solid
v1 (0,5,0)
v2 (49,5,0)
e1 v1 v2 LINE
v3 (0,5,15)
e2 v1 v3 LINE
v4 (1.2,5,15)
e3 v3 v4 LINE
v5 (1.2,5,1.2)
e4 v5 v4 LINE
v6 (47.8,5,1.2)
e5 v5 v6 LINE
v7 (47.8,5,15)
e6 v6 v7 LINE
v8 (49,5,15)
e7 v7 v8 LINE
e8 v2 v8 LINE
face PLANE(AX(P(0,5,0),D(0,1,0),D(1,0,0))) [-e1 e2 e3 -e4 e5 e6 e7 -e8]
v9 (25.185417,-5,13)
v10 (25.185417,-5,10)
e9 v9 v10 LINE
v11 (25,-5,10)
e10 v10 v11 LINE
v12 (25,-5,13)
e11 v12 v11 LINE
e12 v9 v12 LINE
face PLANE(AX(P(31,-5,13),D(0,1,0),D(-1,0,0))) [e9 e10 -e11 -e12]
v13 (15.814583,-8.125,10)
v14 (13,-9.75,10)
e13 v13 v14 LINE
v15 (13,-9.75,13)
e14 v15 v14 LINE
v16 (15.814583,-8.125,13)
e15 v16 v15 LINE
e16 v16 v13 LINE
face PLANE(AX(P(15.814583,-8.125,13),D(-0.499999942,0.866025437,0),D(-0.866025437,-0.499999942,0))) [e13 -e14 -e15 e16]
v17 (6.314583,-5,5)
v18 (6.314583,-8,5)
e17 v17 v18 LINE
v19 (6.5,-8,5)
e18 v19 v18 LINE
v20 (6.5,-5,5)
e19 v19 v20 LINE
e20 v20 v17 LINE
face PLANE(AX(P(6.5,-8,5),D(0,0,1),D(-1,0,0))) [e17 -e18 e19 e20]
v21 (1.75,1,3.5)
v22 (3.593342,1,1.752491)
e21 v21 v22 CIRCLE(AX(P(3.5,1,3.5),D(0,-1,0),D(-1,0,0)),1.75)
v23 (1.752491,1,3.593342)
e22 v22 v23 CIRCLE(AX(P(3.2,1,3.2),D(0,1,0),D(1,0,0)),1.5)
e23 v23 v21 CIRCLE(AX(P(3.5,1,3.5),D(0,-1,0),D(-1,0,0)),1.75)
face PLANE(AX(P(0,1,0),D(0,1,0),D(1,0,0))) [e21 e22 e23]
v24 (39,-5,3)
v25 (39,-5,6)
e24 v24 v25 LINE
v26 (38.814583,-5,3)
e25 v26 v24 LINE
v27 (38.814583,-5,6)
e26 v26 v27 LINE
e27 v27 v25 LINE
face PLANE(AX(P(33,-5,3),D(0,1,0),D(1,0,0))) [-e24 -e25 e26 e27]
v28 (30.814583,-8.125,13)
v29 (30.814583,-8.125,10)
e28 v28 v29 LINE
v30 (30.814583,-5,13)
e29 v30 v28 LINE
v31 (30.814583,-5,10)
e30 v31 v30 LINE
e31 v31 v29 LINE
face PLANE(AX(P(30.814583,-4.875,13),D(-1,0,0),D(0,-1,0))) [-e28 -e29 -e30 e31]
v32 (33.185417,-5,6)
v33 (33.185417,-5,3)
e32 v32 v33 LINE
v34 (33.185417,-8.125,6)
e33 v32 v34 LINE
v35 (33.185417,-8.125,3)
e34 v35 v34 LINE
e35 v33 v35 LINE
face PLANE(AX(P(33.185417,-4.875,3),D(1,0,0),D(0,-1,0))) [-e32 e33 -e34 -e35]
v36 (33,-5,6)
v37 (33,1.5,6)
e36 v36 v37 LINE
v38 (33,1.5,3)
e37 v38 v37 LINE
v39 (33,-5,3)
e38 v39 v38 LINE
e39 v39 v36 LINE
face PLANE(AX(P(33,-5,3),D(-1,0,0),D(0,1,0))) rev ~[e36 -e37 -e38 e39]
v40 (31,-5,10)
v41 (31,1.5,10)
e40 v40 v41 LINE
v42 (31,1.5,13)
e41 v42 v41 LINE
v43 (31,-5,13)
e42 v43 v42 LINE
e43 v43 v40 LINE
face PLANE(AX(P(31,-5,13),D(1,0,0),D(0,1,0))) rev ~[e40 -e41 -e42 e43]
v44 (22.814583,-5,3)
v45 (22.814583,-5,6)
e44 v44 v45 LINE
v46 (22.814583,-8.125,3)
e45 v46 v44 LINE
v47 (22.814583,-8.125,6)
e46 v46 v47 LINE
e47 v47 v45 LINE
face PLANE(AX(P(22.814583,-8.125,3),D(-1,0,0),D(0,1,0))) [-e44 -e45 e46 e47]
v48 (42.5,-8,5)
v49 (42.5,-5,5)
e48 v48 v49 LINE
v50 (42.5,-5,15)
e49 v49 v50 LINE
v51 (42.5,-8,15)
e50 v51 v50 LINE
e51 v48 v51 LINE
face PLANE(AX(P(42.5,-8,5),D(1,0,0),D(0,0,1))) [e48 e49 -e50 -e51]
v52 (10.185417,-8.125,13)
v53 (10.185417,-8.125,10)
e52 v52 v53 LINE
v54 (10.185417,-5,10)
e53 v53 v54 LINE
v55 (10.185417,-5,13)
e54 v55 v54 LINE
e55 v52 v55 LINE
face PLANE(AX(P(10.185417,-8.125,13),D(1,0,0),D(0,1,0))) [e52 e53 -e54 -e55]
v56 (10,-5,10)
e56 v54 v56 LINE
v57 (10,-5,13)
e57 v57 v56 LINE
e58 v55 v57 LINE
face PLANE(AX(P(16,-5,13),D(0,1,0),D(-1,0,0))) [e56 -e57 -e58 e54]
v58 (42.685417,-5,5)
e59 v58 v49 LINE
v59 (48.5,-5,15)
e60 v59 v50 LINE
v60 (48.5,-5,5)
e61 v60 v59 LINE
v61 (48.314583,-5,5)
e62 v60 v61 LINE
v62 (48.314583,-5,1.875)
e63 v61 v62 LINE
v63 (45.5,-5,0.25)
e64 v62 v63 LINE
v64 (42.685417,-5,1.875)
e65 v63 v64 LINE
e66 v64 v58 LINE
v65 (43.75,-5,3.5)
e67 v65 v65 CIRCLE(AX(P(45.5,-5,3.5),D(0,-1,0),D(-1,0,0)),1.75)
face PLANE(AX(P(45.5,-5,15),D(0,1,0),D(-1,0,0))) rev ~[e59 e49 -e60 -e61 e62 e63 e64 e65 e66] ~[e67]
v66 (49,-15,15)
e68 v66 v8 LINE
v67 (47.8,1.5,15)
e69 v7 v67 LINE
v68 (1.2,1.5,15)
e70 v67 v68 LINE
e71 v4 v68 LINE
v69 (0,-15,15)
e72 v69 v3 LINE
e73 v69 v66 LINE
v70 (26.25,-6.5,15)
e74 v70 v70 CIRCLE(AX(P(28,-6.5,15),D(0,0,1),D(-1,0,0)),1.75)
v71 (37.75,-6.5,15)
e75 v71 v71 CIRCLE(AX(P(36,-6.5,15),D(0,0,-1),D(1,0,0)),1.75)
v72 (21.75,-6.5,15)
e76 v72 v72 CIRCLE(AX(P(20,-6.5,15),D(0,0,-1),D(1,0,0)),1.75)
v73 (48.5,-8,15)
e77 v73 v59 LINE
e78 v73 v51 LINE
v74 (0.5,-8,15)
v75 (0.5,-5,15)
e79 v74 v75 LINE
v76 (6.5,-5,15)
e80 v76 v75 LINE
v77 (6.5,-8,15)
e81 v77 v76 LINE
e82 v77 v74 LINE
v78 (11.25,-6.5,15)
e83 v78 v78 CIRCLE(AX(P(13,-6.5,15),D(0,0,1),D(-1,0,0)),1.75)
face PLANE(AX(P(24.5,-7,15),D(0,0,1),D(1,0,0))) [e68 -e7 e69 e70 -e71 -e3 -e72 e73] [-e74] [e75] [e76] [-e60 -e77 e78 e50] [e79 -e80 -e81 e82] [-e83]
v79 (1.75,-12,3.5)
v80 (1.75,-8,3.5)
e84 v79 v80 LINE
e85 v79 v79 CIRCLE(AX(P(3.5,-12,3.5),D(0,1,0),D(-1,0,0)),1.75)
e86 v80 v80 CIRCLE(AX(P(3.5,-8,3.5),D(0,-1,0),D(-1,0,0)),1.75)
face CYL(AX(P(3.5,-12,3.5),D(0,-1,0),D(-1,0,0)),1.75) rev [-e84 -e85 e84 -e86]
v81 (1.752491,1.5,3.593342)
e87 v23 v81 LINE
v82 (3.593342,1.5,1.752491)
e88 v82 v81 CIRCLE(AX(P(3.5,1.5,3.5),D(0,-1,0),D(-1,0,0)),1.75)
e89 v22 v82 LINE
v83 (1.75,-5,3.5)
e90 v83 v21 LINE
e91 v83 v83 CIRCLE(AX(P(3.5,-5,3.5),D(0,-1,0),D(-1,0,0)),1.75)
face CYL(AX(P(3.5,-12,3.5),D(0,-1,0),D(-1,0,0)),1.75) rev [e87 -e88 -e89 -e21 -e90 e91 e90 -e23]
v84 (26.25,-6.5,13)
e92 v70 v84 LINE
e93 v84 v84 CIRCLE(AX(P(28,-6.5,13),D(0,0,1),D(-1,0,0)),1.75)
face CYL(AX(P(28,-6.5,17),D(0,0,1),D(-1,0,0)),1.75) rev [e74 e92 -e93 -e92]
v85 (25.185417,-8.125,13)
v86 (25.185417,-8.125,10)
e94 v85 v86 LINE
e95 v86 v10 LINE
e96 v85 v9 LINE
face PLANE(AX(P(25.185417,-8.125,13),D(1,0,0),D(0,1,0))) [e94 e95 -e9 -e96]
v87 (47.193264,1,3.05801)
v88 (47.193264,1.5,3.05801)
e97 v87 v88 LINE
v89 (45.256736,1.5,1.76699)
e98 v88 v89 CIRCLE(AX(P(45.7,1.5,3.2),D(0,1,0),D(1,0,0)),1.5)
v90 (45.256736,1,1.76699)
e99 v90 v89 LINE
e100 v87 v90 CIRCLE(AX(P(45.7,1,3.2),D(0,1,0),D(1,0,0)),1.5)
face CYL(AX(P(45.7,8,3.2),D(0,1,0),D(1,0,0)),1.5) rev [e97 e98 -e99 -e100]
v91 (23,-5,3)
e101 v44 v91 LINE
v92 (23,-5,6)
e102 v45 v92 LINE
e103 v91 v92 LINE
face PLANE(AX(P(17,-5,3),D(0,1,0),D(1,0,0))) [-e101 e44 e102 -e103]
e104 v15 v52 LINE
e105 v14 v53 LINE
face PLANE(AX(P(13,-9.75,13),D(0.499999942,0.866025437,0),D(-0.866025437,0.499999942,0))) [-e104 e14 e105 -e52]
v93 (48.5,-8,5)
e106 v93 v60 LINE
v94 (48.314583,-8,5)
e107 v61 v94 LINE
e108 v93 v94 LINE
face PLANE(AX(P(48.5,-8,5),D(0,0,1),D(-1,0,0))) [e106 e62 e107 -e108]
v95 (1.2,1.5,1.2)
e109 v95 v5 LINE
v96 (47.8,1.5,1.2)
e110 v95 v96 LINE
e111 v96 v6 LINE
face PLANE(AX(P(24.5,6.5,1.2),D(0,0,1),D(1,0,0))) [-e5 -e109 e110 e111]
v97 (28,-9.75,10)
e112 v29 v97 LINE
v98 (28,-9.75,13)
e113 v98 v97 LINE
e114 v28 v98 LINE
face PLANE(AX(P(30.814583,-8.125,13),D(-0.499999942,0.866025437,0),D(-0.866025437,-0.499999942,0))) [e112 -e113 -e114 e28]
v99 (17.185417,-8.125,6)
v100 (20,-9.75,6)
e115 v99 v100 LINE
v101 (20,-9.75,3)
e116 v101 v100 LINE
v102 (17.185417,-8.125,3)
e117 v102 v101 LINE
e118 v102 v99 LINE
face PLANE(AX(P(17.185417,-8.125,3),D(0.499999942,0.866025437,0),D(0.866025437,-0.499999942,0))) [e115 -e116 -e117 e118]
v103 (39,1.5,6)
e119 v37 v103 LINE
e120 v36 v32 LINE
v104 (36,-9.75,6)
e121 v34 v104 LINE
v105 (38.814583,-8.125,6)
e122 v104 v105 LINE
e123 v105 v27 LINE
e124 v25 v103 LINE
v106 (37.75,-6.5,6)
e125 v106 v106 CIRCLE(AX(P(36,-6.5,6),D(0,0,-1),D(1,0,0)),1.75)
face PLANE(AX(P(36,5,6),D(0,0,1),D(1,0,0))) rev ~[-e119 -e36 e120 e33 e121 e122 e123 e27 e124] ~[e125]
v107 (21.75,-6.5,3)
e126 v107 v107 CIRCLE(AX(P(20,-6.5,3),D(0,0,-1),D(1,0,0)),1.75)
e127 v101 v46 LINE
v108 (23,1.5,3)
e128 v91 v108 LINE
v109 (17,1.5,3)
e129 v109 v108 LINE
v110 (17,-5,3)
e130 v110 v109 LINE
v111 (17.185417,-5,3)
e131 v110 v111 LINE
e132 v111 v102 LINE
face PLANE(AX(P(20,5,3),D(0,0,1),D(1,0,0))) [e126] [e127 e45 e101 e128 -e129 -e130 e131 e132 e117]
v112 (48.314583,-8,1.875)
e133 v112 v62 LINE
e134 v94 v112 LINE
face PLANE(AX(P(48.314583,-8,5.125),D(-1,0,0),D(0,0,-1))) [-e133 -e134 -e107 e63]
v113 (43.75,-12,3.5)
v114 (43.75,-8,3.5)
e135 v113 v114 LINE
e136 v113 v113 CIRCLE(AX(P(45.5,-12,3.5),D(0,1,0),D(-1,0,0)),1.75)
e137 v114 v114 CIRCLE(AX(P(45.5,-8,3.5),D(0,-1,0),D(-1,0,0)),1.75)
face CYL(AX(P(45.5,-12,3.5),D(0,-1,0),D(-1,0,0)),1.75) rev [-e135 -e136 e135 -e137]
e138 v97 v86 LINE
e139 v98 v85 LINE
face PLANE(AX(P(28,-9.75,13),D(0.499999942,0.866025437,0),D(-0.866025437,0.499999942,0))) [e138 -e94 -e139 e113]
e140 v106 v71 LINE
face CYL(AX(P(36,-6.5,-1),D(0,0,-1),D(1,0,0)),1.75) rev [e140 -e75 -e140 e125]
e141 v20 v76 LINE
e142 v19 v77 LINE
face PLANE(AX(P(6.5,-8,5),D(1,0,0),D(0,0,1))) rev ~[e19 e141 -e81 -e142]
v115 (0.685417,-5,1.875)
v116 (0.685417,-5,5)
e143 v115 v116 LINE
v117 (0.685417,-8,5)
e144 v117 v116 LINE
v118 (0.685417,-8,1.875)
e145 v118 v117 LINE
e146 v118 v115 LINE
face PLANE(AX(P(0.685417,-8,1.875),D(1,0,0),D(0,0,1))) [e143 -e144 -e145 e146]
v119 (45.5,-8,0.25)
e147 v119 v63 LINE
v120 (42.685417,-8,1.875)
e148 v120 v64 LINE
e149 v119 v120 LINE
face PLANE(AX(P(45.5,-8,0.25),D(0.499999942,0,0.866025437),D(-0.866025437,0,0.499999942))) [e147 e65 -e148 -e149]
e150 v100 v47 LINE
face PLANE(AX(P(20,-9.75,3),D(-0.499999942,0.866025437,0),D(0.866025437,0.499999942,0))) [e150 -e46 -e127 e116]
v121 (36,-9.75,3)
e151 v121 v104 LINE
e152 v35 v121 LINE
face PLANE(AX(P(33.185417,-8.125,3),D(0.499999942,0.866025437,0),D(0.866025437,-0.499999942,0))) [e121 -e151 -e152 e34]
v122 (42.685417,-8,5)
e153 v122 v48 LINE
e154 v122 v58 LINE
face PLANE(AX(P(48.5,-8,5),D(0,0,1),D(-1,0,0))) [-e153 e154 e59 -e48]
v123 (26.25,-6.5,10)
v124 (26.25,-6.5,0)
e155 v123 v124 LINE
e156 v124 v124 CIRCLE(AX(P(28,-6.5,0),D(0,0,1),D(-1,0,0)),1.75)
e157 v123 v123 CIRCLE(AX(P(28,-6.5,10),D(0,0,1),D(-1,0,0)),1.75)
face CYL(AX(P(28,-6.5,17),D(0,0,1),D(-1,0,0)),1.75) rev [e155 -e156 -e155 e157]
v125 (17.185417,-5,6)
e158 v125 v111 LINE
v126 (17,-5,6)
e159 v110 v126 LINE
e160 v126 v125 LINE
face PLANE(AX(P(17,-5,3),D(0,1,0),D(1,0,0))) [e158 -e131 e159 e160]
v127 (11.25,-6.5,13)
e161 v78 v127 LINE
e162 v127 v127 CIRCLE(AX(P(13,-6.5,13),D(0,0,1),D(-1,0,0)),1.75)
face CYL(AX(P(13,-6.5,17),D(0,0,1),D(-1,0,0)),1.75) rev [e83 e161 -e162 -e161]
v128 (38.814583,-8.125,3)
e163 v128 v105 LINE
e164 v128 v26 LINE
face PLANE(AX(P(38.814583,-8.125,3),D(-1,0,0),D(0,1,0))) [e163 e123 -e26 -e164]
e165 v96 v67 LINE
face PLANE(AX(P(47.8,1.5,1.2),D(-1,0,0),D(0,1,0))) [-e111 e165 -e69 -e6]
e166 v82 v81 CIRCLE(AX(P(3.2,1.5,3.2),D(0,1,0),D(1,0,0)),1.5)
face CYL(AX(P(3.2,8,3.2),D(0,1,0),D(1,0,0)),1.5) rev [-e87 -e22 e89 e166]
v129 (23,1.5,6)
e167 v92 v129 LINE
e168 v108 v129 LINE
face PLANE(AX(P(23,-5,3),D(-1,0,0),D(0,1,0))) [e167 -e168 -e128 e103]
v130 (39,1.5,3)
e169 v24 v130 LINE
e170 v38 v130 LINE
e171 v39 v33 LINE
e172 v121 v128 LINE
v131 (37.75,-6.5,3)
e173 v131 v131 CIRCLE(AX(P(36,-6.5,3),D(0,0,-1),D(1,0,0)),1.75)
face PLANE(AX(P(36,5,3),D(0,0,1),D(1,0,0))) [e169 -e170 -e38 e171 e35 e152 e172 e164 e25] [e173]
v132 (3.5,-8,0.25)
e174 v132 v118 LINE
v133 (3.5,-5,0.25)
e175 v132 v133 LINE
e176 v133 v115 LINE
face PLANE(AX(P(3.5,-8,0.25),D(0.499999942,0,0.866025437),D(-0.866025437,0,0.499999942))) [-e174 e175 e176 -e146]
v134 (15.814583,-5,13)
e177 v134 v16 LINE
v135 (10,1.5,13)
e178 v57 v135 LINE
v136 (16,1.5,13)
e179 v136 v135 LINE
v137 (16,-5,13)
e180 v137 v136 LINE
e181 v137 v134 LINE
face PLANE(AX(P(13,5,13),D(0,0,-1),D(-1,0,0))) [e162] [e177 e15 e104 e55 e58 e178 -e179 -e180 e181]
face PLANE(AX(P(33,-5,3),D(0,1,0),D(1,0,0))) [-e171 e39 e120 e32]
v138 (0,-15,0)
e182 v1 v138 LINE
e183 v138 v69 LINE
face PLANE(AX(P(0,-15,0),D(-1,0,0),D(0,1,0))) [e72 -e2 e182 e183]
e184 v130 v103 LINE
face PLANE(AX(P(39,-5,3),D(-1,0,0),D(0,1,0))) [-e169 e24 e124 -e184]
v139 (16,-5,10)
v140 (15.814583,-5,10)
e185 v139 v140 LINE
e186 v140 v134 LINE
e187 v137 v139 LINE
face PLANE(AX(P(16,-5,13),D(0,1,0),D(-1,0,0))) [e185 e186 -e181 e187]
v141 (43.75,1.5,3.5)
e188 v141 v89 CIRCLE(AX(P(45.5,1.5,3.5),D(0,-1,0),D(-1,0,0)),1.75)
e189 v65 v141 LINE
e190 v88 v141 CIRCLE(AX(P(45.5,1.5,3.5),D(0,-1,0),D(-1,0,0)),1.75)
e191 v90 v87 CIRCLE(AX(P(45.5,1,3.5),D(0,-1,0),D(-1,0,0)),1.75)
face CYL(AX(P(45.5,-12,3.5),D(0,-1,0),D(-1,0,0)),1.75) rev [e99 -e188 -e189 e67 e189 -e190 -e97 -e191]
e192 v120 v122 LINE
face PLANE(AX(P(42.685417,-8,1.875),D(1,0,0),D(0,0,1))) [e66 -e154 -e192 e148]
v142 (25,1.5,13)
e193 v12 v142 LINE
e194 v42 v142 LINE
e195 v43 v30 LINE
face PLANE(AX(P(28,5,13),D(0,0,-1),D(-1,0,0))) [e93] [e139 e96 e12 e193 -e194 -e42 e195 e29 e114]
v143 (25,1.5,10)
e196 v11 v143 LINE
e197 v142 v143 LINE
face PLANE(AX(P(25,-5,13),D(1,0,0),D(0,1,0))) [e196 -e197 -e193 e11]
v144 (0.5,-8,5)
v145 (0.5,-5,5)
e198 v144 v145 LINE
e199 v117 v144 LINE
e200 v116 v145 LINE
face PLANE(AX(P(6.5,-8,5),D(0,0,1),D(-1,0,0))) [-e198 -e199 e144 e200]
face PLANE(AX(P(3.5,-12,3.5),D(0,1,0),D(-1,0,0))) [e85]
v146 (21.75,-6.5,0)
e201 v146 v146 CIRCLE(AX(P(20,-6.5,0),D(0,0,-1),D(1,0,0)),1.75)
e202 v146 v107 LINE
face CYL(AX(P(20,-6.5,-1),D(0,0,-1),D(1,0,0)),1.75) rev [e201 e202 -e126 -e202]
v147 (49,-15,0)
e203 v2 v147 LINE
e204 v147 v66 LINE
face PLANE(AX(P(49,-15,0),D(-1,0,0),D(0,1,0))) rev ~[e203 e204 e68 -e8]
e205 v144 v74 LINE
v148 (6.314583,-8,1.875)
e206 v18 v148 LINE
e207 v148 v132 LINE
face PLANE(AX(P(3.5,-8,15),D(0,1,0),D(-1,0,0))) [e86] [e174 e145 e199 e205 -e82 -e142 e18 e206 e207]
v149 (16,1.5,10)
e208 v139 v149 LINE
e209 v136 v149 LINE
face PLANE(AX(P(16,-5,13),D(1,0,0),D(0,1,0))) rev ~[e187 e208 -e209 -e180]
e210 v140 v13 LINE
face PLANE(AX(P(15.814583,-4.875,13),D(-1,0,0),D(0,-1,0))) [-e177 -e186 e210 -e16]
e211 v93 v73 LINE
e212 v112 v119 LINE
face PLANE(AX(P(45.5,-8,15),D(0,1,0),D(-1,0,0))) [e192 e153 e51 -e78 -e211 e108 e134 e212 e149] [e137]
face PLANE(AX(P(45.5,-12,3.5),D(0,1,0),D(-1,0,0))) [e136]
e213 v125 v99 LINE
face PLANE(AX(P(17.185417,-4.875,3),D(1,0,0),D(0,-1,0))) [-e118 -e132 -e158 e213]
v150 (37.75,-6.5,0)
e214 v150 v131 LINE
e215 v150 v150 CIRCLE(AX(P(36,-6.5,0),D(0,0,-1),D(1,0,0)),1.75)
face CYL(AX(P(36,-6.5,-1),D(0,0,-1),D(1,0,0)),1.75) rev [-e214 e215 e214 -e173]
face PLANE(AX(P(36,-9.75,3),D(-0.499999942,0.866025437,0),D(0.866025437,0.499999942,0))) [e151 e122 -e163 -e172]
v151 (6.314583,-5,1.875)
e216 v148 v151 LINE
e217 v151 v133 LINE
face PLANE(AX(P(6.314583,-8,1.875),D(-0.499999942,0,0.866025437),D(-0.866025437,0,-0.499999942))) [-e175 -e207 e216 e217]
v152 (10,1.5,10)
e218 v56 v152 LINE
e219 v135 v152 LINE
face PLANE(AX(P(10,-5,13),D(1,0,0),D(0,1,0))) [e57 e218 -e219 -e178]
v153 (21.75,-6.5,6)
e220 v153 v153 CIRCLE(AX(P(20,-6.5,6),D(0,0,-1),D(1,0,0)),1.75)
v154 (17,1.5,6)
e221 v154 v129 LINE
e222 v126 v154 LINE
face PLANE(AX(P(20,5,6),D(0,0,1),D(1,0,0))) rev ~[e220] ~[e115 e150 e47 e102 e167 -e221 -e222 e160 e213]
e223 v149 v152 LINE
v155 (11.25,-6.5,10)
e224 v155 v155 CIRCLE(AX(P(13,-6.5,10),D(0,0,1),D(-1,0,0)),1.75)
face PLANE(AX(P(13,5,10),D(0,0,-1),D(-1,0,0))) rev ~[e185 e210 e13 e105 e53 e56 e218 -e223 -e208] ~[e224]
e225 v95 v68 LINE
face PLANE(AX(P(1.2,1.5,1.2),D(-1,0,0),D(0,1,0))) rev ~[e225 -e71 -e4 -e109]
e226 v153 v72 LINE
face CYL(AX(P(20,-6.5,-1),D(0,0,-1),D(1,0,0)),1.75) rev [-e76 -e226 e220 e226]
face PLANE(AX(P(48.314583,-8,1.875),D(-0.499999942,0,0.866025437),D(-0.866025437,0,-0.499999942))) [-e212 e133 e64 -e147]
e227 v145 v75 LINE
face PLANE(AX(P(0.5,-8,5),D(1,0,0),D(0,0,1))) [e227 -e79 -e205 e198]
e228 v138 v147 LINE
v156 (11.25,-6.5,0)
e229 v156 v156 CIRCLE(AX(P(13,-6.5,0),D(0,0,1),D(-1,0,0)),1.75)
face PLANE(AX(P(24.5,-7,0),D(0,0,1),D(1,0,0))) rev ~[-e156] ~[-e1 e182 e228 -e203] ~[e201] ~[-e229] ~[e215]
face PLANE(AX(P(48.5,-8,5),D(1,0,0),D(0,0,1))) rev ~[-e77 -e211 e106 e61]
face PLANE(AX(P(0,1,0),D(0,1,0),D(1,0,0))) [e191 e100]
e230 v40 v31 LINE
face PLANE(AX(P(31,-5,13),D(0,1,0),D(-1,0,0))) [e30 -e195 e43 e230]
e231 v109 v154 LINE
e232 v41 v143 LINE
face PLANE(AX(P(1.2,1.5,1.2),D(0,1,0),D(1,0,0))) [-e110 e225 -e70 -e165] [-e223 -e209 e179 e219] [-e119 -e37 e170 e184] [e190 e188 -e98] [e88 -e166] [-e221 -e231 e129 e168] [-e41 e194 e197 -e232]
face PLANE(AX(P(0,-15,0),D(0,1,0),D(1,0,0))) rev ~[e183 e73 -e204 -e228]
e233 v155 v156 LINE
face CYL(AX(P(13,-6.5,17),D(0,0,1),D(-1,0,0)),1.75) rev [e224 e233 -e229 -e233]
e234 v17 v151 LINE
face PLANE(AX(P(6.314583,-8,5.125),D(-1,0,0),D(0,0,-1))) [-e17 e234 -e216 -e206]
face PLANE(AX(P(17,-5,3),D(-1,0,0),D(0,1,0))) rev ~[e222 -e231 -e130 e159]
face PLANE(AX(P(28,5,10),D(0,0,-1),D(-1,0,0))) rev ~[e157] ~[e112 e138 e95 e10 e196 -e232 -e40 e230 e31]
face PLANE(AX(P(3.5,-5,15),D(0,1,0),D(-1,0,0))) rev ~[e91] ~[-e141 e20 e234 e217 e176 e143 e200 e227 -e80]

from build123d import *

# Parameters (mm, degrees)
PRISM004_DEPTH            = 3
CYLINDER006_R             = 1.75
CYLINDER006_DEPTH         = 20
BOX006_W                  = 6
BOX006_H                  = 20
BOX006_DEPTH              = 3
FUSION004_PLACEMENT_ANGLE = 180
PRISM005_DEPTH            = 3
CYLINDER007_R             = 1.75
CYLINDER007_DEPTH         = 20
BOX007_W                  = 6
BOX007_H                  = 20
BOX007_DEPTH              = 3
FUSION005_PLACEMENT_ANGLE = 180
PRISM002_DEPTH            = 3
CYLINDER004_R             = 1.75
CYLINDER004_DEPTH         = 20
BOX003_W                  = 6
BOX003_H                  = 20
BOX003_DEPTH              = 3
FUSION001_PLACEMENT_ANGLE = 180
PRISM003_DEPTH            = 3
CYLINDER005_R             = 1.75
CYLINDER005_DEPTH         = 20
BOX005_W                  = 6
BOX005_H                  = 20
BOX005_DEPTH              = 3
FUSION002_PLACEMENT_ANGLE = 180
FUSION007_PLACEMENT_ANGLE = 180
PRISM006_DEPTH            = 3
CYLINDER008_R             = 1.75
CYLINDER008_DEPTH         = 20
BOX008_W                  = 6
BOX008_H                  = 20
BOX008_DEPTH              = 3
FUSION008_ROLL_ANGLE      = 90
FUSION008_PLACEMENT_ANGLE = 180
PRISM007_DEPTH            = 3
CYLINDER009_R             = 1.75
CYLINDER009_DEPTH         = 20
BOX009_W                  = 6
BOX009_H                  = 20
BOX009_DEPTH              = 3
FUSION009_ROLL_ANGLE      = 90
FUSION009_PLACEMENT_ANGLE = 180
CYLINDER001_R             = 1.5
CYLINDER001_DEPTH         = 10
CYLINDER_R                = 1.5
CYLINDER_DEPTH            = 10
BOX001_W                  = 46.6
BOX001_H                  = 10
BOX001_DEPTH              = 21
BOX_W                     = 49
BOX_H                     = 5
BOX_DEPTH                 = 15
BOX004_W                  = 49
BOX004_H                  = 16
BOX004_DEPTH              = 15


with BuildPart() as prisma004:
    # Prism004 → Prism004 (new body)
    with BuildSketch(Plane(origin=(34, 7.5, 3), x_dir=(0, 1, 0), z_dir=(0, 0, 1))):
        Polygon((3.25, 0), (1.625, 2.814583), (-1.625, 2.814583), (-3.25, 0), (-1.625, -2.814583), (1.625, -2.814583), align=None)
    extrude(amount=PRISM004_DEPTH)


with BuildPart() as cilindro006:
    # Cylinder006 → Cylinder006 (new body)
    with BuildSketch(Plane(origin=(34, 7.5, -1), x_dir=(1, 0, 0), z_dir=(0, 0, 1))):
        Circle(CYLINDER006_R)
    extrude(amount=CYLINDER006_DEPTH)


with BuildPart() as fusion004:
    # Box006 → Box006 (new body)
    with BuildSketch(Plane(origin=(31, 9, 3), x_dir=(1, 0, 0), z_dir=(0, 0, 1))):
        with Locations((3, 10)):
            Rectangle(BOX006_W, BOX006_H)
    extrude(amount=BOX006_DEPTH)

    # Fusion004: union Prisma004, Cilindro006
    add(prisma004.part)
    add(cilindro006.part)


with BuildPart() as fusion004_1:
    # Fusion004 placement: moved
    add(fusion004.part.moved(Location((-14, -3, 16))).rotate(Axis((-14, -3, 16), (1, 0, 0)), FUSION004_PLACEMENT_ANGLE))


with BuildPart() as prisma005:
    # Prism005 → Prism005 (new body)
    with BuildSketch(Plane(origin=(34, 7.5, 3), x_dir=(0, 1, 0), z_dir=(0, 0, 1))):
        Polygon((3.25, 0), (1.625, 2.814583), (-1.625, 2.814583), (-3.25, 0), (-1.625, -2.814583), (1.625, -2.814583), align=None)
    extrude(amount=PRISM005_DEPTH)


with BuildPart() as cilindro007:
    # Cylinder007 → Cylinder007 (new body)
    with BuildSketch(Plane(origin=(34, 7.5, -1), x_dir=(1, 0, 0), z_dir=(0, 0, 1))):
        Circle(CYLINDER007_R)
    extrude(amount=CYLINDER007_DEPTH)


with BuildPart() as fusion006:
    # Box007 → Box007 (new body)
    with BuildSketch(Plane(origin=(31, 9, 3), x_dir=(1, 0, 0), z_dir=(0, 0, 1))):
        with Locations((3, 10)):
            Rectangle(BOX007_W, BOX007_H)
    extrude(amount=BOX007_DEPTH)

    # Fusion005: union Prisma005, Cilindro007
    add(prisma005.part)
    add(cilindro007.part)


with BuildPart() as fusion006_1:
    # Fusion005 placement: moved
    add(fusion006.part.moved(Location((2, -3, 16))).rotate(Axis((2, -3, 16), (1, 0, 0)), FUSION005_PLACEMENT_ANGLE))

    # Fusion006: union Fusion004
    add(fusion004_1.part)


with BuildPart() as prisma002:
    # Prism002 → Prism002 (new body)
    with BuildSketch(Plane(origin=(34, 7.5, 3), x_dir=(0, 1, 0), z_dir=(0, 0, 1))):
        Polygon((3.25, 0), (1.625, 2.814583), (-1.625, 2.814583), (-3.25, 0), (-1.625, -2.814583), (1.625, -2.814583), align=None)
    extrude(amount=PRISM002_DEPTH)


with BuildPart() as cilindro004:
    # Cylinder004 → Cylinder004 (new body)
    with BuildSketch(Plane(origin=(34, 7.5, -1), x_dir=(1, 0, 0), z_dir=(0, 0, 1))):
        Circle(CYLINDER004_R)
    extrude(amount=CYLINDER004_DEPTH)


with BuildPart() as fusion001:
    # Box003 → Box003 (new body)
    with BuildSketch(Plane(origin=(31, 9, 3), x_dir=(1, 0, 0), z_dir=(0, 0, 1))):
        with Locations((3, 10)):
            Rectangle(BOX003_W, BOX003_H)
    extrude(amount=BOX003_DEPTH)

    # Fusion001: union Prisma002, Cilindro004
    add(prisma002.part)
    add(cilindro004.part)


with BuildPart() as fusion001_1:
    # Fusion001 placement: moved
    add(fusion001.part.moved(Location((47, -3, 0))).rotate(Axis((47, -3, 0), (0, 0, 1)), FUSION001_PLACEMENT_ANGLE))


with BuildPart() as prisma003:
    # Prism003 → Prism003 (new body)
    with BuildSketch(Plane(origin=(34, 7.5, 3), x_dir=(0, 1, 0), z_dir=(0, 0, 1))):
        Polygon((3.25, 0), (1.625, 2.814583), (-1.625, 2.814583), (-3.25, 0), (-1.625, -2.814583), (1.625, -2.814583), align=None)
    extrude(amount=PRISM003_DEPTH)


with BuildPart() as cilindro005:
    # Cylinder005 → Cylinder005 (new body)
    with BuildSketch(Plane(origin=(34, 7.5, -1), x_dir=(1, 0, 0), z_dir=(0, 0, 1))):
        Circle(CYLINDER005_R)
    extrude(amount=CYLINDER005_DEPTH)


with BuildPart() as fusion007:
    # Box005 → Box005 (new body)
    with BuildSketch(Plane(origin=(31, 9, 3), x_dir=(1, 0, 0), z_dir=(0, 0, 1))):
        with Locations((3, 10)):
            Rectangle(BOX005_W, BOX005_H)
    extrude(amount=BOX005_DEPTH)

    # Fusion002: union Prisma003, Cilindro005
    add(prisma003.part)
    add(cilindro005.part)


with BuildPart() as fusion007_1:
    # Fusion002 placement: moved
    add(fusion007.part.moved(Location((62, -3, 0))).rotate(Axis((62, -3, 0), (0, 0, 1)), FUSION002_PLACEMENT_ANGLE))

    # Fusion003: union Fusion001
    add(fusion001_1.part)

    # Fusion007: union Fusion006
    add(fusion006_1.part)


with BuildPart() as fusion007_2:
    # Fusion007 placement: moved
    add(fusion007_1.part.moved(Location((0, -17, 16))).rotate(Axis((0, -17, 16), (1, 0, 0)), FUSION007_PLACEMENT_ANGLE))


with BuildPart() as prisma006:
    # Prism006 → Prism006 (new body)
    with BuildSketch(Plane(origin=(34, 7.5, 3), x_dir=(0, 1, 0), z_dir=(0, 0, 1))):
        Polygon((3.25, 0), (1.625, 2.814583), (-1.625, 2.814583), (-3.25, 0), (-1.625, -2.814583), (1.625, -2.814583), align=None)
    extrude(amount=PRISM006_DEPTH)


with BuildPart() as cilindro008:
    # Cylinder008 → Cylinder008 (new body)
    with BuildSketch(Plane(origin=(34, 7.5, -1), x_dir=(1, 0, 0), z_dir=(0, 0, 1))):
        Circle(CYLINDER008_R)
    extrude(amount=CYLINDER008_DEPTH)


with BuildPart() as fusion008:
    # Box008 → Box008 (new body)
    with BuildSketch(Plane(origin=(31, 9, 3), x_dir=(1, 0, 0), z_dir=(0, 0, 1))):
        with Locations((3, 10)):
            Rectangle(BOX008_W, BOX008_H)
    extrude(amount=BOX008_DEPTH)

    # Fusion008: union Prisma006, Cilindro008
    add(prisma006.part)
    add(cilindro008.part)


with BuildPart() as fusion008_1:
    # Fusion008 roll: moved
    add(fusion008.part.rotate(Axis((0, 0, 0), (1, 0, 0)), FUSION008_ROLL_ANGLE))


with BuildPart() as fusion008_2:
    # Fusion008 placement: moved
    add(fusion008_1.part.moved(Location((37.5, -11, -4))).rotate(Axis((37.5, -11, -4), (0, 0, 1)), FUSION008_PLACEMENT_ANGLE))


with BuildPart() as prisma007:
    # Prism007 → Prism007 (new body)
    with BuildSketch(Plane(origin=(34, 7.5, 3), x_dir=(0, 1, 0), z_dir=(0, 0, 1))):
        Polygon((3.25, 0), (1.625, 2.814583), (-1.625, 2.814583), (-3.25, 0), (-1.625, -2.814583), (1.625, -2.814583), align=None)
    extrude(amount=PRISM007_DEPTH)


with BuildPart() as cilindro009:
    # Cylinder009 → Cylinder009 (new body)
    with BuildSketch(Plane(origin=(34, 7.5, -1), x_dir=(1, 0, 0), z_dir=(0, 0, 1))):
        Circle(CYLINDER009_R)
    extrude(amount=CYLINDER009_DEPTH)


with BuildPart() as fusion011:
    # Box009 → Box009 (new body)
    with BuildSketch(Plane(origin=(31, 9, 3), x_dir=(1, 0, 0), z_dir=(0, 0, 1))):
        with Locations((3, 10)):
            Rectangle(BOX009_W, BOX009_H)
    extrude(amount=BOX009_DEPTH)

    # Fusion009: union Prisma007, Cilindro009
    add(prisma007.part)
    add(cilindro009.part)


with BuildPart() as fusion011_1:
    # Fusion009 roll: moved
    add(fusion011.part.rotate(Axis((0, 0, 0), (1, 0, 0)), FUSION009_ROLL_ANGLE))


with BuildPart() as fusion011_2:
    # Fusion009 placement: moved
    add(fusion011_1.part.moved(Location((79.5, -11, -4))).rotate(Axis((79.5, -11, -4), (0, 0, 1)), FUSION009_PLACEMENT_ANGLE))

    # Fusion011: union Fusion007, Fusion008
    add(fusion007_2.part)
    add(fusion008_2.part)


with BuildPart() as cilindro001:
    # Cylinder001 → Cylinder001 (new body)
    with BuildSketch(Plane(origin=(45.7, 8, 3.2), x_dir=(1, 0, 0), z_dir=(0, -1, 0))):
        Circle(CYLINDER001_R)
    extrude(amount=CYLINDER001_DEPTH)


with BuildPart() as fusion:
    # Cylinder → Cylinder (new body)
    with BuildSketch(Plane(origin=(3.2, 8, 3.2), x_dir=(1, 0, 0), z_dir=(0, -1, 0))):
        Circle(CYLINDER_R)
    extrude(amount=CYLINDER_DEPTH)

    # Fusion: union Cilindro001
    add(cilindro001.part)


with BuildPart() as cubo001:
    # Box001 → Box001 (new body)
    with BuildSketch(Plane(origin=(1.2, 1.5, 1.2), x_dir=(1, 0, 0), z_dir=(0, 0, 1))):
        with Locations((23.3, 5)):
            Rectangle(BOX001_W, BOX001_H)
    extrude(amount=BOX001_DEPTH)


with BuildPart() as cut001:
    # Box → Box (new body)
    with BuildSketch(Plane.XY):
        with Locations((24.5, 2.5)):
            Rectangle(BOX_W, BOX_H)
    extrude(amount=BOX_DEPTH)

    # Cut: cut Cubo001
    add(cubo001.part, mode=Mode.SUBTRACT)

    # Cut001: cut Fusion
    add(fusion.part, mode=Mode.SUBTRACT)


with BuildPart() as cut002:
    # Box004 → Box004 (new body)
    with BuildSketch(Plane(origin=(0, -15, 0), x_dir=(1, 0, 0), z_dir=(0, 0, 1))):
        with Locations((24.5, 8)):
            Rectangle(BOX004_W, BOX004_H)
    extrude(amount=BOX004_DEPTH)

    # Fusion010: union Cut001
    add(cut001.part)

    # Cut002: cut Fusion011
    add(fusion011_2.part, mode=Mode.SUBTRACT)


solid = cut002.part
